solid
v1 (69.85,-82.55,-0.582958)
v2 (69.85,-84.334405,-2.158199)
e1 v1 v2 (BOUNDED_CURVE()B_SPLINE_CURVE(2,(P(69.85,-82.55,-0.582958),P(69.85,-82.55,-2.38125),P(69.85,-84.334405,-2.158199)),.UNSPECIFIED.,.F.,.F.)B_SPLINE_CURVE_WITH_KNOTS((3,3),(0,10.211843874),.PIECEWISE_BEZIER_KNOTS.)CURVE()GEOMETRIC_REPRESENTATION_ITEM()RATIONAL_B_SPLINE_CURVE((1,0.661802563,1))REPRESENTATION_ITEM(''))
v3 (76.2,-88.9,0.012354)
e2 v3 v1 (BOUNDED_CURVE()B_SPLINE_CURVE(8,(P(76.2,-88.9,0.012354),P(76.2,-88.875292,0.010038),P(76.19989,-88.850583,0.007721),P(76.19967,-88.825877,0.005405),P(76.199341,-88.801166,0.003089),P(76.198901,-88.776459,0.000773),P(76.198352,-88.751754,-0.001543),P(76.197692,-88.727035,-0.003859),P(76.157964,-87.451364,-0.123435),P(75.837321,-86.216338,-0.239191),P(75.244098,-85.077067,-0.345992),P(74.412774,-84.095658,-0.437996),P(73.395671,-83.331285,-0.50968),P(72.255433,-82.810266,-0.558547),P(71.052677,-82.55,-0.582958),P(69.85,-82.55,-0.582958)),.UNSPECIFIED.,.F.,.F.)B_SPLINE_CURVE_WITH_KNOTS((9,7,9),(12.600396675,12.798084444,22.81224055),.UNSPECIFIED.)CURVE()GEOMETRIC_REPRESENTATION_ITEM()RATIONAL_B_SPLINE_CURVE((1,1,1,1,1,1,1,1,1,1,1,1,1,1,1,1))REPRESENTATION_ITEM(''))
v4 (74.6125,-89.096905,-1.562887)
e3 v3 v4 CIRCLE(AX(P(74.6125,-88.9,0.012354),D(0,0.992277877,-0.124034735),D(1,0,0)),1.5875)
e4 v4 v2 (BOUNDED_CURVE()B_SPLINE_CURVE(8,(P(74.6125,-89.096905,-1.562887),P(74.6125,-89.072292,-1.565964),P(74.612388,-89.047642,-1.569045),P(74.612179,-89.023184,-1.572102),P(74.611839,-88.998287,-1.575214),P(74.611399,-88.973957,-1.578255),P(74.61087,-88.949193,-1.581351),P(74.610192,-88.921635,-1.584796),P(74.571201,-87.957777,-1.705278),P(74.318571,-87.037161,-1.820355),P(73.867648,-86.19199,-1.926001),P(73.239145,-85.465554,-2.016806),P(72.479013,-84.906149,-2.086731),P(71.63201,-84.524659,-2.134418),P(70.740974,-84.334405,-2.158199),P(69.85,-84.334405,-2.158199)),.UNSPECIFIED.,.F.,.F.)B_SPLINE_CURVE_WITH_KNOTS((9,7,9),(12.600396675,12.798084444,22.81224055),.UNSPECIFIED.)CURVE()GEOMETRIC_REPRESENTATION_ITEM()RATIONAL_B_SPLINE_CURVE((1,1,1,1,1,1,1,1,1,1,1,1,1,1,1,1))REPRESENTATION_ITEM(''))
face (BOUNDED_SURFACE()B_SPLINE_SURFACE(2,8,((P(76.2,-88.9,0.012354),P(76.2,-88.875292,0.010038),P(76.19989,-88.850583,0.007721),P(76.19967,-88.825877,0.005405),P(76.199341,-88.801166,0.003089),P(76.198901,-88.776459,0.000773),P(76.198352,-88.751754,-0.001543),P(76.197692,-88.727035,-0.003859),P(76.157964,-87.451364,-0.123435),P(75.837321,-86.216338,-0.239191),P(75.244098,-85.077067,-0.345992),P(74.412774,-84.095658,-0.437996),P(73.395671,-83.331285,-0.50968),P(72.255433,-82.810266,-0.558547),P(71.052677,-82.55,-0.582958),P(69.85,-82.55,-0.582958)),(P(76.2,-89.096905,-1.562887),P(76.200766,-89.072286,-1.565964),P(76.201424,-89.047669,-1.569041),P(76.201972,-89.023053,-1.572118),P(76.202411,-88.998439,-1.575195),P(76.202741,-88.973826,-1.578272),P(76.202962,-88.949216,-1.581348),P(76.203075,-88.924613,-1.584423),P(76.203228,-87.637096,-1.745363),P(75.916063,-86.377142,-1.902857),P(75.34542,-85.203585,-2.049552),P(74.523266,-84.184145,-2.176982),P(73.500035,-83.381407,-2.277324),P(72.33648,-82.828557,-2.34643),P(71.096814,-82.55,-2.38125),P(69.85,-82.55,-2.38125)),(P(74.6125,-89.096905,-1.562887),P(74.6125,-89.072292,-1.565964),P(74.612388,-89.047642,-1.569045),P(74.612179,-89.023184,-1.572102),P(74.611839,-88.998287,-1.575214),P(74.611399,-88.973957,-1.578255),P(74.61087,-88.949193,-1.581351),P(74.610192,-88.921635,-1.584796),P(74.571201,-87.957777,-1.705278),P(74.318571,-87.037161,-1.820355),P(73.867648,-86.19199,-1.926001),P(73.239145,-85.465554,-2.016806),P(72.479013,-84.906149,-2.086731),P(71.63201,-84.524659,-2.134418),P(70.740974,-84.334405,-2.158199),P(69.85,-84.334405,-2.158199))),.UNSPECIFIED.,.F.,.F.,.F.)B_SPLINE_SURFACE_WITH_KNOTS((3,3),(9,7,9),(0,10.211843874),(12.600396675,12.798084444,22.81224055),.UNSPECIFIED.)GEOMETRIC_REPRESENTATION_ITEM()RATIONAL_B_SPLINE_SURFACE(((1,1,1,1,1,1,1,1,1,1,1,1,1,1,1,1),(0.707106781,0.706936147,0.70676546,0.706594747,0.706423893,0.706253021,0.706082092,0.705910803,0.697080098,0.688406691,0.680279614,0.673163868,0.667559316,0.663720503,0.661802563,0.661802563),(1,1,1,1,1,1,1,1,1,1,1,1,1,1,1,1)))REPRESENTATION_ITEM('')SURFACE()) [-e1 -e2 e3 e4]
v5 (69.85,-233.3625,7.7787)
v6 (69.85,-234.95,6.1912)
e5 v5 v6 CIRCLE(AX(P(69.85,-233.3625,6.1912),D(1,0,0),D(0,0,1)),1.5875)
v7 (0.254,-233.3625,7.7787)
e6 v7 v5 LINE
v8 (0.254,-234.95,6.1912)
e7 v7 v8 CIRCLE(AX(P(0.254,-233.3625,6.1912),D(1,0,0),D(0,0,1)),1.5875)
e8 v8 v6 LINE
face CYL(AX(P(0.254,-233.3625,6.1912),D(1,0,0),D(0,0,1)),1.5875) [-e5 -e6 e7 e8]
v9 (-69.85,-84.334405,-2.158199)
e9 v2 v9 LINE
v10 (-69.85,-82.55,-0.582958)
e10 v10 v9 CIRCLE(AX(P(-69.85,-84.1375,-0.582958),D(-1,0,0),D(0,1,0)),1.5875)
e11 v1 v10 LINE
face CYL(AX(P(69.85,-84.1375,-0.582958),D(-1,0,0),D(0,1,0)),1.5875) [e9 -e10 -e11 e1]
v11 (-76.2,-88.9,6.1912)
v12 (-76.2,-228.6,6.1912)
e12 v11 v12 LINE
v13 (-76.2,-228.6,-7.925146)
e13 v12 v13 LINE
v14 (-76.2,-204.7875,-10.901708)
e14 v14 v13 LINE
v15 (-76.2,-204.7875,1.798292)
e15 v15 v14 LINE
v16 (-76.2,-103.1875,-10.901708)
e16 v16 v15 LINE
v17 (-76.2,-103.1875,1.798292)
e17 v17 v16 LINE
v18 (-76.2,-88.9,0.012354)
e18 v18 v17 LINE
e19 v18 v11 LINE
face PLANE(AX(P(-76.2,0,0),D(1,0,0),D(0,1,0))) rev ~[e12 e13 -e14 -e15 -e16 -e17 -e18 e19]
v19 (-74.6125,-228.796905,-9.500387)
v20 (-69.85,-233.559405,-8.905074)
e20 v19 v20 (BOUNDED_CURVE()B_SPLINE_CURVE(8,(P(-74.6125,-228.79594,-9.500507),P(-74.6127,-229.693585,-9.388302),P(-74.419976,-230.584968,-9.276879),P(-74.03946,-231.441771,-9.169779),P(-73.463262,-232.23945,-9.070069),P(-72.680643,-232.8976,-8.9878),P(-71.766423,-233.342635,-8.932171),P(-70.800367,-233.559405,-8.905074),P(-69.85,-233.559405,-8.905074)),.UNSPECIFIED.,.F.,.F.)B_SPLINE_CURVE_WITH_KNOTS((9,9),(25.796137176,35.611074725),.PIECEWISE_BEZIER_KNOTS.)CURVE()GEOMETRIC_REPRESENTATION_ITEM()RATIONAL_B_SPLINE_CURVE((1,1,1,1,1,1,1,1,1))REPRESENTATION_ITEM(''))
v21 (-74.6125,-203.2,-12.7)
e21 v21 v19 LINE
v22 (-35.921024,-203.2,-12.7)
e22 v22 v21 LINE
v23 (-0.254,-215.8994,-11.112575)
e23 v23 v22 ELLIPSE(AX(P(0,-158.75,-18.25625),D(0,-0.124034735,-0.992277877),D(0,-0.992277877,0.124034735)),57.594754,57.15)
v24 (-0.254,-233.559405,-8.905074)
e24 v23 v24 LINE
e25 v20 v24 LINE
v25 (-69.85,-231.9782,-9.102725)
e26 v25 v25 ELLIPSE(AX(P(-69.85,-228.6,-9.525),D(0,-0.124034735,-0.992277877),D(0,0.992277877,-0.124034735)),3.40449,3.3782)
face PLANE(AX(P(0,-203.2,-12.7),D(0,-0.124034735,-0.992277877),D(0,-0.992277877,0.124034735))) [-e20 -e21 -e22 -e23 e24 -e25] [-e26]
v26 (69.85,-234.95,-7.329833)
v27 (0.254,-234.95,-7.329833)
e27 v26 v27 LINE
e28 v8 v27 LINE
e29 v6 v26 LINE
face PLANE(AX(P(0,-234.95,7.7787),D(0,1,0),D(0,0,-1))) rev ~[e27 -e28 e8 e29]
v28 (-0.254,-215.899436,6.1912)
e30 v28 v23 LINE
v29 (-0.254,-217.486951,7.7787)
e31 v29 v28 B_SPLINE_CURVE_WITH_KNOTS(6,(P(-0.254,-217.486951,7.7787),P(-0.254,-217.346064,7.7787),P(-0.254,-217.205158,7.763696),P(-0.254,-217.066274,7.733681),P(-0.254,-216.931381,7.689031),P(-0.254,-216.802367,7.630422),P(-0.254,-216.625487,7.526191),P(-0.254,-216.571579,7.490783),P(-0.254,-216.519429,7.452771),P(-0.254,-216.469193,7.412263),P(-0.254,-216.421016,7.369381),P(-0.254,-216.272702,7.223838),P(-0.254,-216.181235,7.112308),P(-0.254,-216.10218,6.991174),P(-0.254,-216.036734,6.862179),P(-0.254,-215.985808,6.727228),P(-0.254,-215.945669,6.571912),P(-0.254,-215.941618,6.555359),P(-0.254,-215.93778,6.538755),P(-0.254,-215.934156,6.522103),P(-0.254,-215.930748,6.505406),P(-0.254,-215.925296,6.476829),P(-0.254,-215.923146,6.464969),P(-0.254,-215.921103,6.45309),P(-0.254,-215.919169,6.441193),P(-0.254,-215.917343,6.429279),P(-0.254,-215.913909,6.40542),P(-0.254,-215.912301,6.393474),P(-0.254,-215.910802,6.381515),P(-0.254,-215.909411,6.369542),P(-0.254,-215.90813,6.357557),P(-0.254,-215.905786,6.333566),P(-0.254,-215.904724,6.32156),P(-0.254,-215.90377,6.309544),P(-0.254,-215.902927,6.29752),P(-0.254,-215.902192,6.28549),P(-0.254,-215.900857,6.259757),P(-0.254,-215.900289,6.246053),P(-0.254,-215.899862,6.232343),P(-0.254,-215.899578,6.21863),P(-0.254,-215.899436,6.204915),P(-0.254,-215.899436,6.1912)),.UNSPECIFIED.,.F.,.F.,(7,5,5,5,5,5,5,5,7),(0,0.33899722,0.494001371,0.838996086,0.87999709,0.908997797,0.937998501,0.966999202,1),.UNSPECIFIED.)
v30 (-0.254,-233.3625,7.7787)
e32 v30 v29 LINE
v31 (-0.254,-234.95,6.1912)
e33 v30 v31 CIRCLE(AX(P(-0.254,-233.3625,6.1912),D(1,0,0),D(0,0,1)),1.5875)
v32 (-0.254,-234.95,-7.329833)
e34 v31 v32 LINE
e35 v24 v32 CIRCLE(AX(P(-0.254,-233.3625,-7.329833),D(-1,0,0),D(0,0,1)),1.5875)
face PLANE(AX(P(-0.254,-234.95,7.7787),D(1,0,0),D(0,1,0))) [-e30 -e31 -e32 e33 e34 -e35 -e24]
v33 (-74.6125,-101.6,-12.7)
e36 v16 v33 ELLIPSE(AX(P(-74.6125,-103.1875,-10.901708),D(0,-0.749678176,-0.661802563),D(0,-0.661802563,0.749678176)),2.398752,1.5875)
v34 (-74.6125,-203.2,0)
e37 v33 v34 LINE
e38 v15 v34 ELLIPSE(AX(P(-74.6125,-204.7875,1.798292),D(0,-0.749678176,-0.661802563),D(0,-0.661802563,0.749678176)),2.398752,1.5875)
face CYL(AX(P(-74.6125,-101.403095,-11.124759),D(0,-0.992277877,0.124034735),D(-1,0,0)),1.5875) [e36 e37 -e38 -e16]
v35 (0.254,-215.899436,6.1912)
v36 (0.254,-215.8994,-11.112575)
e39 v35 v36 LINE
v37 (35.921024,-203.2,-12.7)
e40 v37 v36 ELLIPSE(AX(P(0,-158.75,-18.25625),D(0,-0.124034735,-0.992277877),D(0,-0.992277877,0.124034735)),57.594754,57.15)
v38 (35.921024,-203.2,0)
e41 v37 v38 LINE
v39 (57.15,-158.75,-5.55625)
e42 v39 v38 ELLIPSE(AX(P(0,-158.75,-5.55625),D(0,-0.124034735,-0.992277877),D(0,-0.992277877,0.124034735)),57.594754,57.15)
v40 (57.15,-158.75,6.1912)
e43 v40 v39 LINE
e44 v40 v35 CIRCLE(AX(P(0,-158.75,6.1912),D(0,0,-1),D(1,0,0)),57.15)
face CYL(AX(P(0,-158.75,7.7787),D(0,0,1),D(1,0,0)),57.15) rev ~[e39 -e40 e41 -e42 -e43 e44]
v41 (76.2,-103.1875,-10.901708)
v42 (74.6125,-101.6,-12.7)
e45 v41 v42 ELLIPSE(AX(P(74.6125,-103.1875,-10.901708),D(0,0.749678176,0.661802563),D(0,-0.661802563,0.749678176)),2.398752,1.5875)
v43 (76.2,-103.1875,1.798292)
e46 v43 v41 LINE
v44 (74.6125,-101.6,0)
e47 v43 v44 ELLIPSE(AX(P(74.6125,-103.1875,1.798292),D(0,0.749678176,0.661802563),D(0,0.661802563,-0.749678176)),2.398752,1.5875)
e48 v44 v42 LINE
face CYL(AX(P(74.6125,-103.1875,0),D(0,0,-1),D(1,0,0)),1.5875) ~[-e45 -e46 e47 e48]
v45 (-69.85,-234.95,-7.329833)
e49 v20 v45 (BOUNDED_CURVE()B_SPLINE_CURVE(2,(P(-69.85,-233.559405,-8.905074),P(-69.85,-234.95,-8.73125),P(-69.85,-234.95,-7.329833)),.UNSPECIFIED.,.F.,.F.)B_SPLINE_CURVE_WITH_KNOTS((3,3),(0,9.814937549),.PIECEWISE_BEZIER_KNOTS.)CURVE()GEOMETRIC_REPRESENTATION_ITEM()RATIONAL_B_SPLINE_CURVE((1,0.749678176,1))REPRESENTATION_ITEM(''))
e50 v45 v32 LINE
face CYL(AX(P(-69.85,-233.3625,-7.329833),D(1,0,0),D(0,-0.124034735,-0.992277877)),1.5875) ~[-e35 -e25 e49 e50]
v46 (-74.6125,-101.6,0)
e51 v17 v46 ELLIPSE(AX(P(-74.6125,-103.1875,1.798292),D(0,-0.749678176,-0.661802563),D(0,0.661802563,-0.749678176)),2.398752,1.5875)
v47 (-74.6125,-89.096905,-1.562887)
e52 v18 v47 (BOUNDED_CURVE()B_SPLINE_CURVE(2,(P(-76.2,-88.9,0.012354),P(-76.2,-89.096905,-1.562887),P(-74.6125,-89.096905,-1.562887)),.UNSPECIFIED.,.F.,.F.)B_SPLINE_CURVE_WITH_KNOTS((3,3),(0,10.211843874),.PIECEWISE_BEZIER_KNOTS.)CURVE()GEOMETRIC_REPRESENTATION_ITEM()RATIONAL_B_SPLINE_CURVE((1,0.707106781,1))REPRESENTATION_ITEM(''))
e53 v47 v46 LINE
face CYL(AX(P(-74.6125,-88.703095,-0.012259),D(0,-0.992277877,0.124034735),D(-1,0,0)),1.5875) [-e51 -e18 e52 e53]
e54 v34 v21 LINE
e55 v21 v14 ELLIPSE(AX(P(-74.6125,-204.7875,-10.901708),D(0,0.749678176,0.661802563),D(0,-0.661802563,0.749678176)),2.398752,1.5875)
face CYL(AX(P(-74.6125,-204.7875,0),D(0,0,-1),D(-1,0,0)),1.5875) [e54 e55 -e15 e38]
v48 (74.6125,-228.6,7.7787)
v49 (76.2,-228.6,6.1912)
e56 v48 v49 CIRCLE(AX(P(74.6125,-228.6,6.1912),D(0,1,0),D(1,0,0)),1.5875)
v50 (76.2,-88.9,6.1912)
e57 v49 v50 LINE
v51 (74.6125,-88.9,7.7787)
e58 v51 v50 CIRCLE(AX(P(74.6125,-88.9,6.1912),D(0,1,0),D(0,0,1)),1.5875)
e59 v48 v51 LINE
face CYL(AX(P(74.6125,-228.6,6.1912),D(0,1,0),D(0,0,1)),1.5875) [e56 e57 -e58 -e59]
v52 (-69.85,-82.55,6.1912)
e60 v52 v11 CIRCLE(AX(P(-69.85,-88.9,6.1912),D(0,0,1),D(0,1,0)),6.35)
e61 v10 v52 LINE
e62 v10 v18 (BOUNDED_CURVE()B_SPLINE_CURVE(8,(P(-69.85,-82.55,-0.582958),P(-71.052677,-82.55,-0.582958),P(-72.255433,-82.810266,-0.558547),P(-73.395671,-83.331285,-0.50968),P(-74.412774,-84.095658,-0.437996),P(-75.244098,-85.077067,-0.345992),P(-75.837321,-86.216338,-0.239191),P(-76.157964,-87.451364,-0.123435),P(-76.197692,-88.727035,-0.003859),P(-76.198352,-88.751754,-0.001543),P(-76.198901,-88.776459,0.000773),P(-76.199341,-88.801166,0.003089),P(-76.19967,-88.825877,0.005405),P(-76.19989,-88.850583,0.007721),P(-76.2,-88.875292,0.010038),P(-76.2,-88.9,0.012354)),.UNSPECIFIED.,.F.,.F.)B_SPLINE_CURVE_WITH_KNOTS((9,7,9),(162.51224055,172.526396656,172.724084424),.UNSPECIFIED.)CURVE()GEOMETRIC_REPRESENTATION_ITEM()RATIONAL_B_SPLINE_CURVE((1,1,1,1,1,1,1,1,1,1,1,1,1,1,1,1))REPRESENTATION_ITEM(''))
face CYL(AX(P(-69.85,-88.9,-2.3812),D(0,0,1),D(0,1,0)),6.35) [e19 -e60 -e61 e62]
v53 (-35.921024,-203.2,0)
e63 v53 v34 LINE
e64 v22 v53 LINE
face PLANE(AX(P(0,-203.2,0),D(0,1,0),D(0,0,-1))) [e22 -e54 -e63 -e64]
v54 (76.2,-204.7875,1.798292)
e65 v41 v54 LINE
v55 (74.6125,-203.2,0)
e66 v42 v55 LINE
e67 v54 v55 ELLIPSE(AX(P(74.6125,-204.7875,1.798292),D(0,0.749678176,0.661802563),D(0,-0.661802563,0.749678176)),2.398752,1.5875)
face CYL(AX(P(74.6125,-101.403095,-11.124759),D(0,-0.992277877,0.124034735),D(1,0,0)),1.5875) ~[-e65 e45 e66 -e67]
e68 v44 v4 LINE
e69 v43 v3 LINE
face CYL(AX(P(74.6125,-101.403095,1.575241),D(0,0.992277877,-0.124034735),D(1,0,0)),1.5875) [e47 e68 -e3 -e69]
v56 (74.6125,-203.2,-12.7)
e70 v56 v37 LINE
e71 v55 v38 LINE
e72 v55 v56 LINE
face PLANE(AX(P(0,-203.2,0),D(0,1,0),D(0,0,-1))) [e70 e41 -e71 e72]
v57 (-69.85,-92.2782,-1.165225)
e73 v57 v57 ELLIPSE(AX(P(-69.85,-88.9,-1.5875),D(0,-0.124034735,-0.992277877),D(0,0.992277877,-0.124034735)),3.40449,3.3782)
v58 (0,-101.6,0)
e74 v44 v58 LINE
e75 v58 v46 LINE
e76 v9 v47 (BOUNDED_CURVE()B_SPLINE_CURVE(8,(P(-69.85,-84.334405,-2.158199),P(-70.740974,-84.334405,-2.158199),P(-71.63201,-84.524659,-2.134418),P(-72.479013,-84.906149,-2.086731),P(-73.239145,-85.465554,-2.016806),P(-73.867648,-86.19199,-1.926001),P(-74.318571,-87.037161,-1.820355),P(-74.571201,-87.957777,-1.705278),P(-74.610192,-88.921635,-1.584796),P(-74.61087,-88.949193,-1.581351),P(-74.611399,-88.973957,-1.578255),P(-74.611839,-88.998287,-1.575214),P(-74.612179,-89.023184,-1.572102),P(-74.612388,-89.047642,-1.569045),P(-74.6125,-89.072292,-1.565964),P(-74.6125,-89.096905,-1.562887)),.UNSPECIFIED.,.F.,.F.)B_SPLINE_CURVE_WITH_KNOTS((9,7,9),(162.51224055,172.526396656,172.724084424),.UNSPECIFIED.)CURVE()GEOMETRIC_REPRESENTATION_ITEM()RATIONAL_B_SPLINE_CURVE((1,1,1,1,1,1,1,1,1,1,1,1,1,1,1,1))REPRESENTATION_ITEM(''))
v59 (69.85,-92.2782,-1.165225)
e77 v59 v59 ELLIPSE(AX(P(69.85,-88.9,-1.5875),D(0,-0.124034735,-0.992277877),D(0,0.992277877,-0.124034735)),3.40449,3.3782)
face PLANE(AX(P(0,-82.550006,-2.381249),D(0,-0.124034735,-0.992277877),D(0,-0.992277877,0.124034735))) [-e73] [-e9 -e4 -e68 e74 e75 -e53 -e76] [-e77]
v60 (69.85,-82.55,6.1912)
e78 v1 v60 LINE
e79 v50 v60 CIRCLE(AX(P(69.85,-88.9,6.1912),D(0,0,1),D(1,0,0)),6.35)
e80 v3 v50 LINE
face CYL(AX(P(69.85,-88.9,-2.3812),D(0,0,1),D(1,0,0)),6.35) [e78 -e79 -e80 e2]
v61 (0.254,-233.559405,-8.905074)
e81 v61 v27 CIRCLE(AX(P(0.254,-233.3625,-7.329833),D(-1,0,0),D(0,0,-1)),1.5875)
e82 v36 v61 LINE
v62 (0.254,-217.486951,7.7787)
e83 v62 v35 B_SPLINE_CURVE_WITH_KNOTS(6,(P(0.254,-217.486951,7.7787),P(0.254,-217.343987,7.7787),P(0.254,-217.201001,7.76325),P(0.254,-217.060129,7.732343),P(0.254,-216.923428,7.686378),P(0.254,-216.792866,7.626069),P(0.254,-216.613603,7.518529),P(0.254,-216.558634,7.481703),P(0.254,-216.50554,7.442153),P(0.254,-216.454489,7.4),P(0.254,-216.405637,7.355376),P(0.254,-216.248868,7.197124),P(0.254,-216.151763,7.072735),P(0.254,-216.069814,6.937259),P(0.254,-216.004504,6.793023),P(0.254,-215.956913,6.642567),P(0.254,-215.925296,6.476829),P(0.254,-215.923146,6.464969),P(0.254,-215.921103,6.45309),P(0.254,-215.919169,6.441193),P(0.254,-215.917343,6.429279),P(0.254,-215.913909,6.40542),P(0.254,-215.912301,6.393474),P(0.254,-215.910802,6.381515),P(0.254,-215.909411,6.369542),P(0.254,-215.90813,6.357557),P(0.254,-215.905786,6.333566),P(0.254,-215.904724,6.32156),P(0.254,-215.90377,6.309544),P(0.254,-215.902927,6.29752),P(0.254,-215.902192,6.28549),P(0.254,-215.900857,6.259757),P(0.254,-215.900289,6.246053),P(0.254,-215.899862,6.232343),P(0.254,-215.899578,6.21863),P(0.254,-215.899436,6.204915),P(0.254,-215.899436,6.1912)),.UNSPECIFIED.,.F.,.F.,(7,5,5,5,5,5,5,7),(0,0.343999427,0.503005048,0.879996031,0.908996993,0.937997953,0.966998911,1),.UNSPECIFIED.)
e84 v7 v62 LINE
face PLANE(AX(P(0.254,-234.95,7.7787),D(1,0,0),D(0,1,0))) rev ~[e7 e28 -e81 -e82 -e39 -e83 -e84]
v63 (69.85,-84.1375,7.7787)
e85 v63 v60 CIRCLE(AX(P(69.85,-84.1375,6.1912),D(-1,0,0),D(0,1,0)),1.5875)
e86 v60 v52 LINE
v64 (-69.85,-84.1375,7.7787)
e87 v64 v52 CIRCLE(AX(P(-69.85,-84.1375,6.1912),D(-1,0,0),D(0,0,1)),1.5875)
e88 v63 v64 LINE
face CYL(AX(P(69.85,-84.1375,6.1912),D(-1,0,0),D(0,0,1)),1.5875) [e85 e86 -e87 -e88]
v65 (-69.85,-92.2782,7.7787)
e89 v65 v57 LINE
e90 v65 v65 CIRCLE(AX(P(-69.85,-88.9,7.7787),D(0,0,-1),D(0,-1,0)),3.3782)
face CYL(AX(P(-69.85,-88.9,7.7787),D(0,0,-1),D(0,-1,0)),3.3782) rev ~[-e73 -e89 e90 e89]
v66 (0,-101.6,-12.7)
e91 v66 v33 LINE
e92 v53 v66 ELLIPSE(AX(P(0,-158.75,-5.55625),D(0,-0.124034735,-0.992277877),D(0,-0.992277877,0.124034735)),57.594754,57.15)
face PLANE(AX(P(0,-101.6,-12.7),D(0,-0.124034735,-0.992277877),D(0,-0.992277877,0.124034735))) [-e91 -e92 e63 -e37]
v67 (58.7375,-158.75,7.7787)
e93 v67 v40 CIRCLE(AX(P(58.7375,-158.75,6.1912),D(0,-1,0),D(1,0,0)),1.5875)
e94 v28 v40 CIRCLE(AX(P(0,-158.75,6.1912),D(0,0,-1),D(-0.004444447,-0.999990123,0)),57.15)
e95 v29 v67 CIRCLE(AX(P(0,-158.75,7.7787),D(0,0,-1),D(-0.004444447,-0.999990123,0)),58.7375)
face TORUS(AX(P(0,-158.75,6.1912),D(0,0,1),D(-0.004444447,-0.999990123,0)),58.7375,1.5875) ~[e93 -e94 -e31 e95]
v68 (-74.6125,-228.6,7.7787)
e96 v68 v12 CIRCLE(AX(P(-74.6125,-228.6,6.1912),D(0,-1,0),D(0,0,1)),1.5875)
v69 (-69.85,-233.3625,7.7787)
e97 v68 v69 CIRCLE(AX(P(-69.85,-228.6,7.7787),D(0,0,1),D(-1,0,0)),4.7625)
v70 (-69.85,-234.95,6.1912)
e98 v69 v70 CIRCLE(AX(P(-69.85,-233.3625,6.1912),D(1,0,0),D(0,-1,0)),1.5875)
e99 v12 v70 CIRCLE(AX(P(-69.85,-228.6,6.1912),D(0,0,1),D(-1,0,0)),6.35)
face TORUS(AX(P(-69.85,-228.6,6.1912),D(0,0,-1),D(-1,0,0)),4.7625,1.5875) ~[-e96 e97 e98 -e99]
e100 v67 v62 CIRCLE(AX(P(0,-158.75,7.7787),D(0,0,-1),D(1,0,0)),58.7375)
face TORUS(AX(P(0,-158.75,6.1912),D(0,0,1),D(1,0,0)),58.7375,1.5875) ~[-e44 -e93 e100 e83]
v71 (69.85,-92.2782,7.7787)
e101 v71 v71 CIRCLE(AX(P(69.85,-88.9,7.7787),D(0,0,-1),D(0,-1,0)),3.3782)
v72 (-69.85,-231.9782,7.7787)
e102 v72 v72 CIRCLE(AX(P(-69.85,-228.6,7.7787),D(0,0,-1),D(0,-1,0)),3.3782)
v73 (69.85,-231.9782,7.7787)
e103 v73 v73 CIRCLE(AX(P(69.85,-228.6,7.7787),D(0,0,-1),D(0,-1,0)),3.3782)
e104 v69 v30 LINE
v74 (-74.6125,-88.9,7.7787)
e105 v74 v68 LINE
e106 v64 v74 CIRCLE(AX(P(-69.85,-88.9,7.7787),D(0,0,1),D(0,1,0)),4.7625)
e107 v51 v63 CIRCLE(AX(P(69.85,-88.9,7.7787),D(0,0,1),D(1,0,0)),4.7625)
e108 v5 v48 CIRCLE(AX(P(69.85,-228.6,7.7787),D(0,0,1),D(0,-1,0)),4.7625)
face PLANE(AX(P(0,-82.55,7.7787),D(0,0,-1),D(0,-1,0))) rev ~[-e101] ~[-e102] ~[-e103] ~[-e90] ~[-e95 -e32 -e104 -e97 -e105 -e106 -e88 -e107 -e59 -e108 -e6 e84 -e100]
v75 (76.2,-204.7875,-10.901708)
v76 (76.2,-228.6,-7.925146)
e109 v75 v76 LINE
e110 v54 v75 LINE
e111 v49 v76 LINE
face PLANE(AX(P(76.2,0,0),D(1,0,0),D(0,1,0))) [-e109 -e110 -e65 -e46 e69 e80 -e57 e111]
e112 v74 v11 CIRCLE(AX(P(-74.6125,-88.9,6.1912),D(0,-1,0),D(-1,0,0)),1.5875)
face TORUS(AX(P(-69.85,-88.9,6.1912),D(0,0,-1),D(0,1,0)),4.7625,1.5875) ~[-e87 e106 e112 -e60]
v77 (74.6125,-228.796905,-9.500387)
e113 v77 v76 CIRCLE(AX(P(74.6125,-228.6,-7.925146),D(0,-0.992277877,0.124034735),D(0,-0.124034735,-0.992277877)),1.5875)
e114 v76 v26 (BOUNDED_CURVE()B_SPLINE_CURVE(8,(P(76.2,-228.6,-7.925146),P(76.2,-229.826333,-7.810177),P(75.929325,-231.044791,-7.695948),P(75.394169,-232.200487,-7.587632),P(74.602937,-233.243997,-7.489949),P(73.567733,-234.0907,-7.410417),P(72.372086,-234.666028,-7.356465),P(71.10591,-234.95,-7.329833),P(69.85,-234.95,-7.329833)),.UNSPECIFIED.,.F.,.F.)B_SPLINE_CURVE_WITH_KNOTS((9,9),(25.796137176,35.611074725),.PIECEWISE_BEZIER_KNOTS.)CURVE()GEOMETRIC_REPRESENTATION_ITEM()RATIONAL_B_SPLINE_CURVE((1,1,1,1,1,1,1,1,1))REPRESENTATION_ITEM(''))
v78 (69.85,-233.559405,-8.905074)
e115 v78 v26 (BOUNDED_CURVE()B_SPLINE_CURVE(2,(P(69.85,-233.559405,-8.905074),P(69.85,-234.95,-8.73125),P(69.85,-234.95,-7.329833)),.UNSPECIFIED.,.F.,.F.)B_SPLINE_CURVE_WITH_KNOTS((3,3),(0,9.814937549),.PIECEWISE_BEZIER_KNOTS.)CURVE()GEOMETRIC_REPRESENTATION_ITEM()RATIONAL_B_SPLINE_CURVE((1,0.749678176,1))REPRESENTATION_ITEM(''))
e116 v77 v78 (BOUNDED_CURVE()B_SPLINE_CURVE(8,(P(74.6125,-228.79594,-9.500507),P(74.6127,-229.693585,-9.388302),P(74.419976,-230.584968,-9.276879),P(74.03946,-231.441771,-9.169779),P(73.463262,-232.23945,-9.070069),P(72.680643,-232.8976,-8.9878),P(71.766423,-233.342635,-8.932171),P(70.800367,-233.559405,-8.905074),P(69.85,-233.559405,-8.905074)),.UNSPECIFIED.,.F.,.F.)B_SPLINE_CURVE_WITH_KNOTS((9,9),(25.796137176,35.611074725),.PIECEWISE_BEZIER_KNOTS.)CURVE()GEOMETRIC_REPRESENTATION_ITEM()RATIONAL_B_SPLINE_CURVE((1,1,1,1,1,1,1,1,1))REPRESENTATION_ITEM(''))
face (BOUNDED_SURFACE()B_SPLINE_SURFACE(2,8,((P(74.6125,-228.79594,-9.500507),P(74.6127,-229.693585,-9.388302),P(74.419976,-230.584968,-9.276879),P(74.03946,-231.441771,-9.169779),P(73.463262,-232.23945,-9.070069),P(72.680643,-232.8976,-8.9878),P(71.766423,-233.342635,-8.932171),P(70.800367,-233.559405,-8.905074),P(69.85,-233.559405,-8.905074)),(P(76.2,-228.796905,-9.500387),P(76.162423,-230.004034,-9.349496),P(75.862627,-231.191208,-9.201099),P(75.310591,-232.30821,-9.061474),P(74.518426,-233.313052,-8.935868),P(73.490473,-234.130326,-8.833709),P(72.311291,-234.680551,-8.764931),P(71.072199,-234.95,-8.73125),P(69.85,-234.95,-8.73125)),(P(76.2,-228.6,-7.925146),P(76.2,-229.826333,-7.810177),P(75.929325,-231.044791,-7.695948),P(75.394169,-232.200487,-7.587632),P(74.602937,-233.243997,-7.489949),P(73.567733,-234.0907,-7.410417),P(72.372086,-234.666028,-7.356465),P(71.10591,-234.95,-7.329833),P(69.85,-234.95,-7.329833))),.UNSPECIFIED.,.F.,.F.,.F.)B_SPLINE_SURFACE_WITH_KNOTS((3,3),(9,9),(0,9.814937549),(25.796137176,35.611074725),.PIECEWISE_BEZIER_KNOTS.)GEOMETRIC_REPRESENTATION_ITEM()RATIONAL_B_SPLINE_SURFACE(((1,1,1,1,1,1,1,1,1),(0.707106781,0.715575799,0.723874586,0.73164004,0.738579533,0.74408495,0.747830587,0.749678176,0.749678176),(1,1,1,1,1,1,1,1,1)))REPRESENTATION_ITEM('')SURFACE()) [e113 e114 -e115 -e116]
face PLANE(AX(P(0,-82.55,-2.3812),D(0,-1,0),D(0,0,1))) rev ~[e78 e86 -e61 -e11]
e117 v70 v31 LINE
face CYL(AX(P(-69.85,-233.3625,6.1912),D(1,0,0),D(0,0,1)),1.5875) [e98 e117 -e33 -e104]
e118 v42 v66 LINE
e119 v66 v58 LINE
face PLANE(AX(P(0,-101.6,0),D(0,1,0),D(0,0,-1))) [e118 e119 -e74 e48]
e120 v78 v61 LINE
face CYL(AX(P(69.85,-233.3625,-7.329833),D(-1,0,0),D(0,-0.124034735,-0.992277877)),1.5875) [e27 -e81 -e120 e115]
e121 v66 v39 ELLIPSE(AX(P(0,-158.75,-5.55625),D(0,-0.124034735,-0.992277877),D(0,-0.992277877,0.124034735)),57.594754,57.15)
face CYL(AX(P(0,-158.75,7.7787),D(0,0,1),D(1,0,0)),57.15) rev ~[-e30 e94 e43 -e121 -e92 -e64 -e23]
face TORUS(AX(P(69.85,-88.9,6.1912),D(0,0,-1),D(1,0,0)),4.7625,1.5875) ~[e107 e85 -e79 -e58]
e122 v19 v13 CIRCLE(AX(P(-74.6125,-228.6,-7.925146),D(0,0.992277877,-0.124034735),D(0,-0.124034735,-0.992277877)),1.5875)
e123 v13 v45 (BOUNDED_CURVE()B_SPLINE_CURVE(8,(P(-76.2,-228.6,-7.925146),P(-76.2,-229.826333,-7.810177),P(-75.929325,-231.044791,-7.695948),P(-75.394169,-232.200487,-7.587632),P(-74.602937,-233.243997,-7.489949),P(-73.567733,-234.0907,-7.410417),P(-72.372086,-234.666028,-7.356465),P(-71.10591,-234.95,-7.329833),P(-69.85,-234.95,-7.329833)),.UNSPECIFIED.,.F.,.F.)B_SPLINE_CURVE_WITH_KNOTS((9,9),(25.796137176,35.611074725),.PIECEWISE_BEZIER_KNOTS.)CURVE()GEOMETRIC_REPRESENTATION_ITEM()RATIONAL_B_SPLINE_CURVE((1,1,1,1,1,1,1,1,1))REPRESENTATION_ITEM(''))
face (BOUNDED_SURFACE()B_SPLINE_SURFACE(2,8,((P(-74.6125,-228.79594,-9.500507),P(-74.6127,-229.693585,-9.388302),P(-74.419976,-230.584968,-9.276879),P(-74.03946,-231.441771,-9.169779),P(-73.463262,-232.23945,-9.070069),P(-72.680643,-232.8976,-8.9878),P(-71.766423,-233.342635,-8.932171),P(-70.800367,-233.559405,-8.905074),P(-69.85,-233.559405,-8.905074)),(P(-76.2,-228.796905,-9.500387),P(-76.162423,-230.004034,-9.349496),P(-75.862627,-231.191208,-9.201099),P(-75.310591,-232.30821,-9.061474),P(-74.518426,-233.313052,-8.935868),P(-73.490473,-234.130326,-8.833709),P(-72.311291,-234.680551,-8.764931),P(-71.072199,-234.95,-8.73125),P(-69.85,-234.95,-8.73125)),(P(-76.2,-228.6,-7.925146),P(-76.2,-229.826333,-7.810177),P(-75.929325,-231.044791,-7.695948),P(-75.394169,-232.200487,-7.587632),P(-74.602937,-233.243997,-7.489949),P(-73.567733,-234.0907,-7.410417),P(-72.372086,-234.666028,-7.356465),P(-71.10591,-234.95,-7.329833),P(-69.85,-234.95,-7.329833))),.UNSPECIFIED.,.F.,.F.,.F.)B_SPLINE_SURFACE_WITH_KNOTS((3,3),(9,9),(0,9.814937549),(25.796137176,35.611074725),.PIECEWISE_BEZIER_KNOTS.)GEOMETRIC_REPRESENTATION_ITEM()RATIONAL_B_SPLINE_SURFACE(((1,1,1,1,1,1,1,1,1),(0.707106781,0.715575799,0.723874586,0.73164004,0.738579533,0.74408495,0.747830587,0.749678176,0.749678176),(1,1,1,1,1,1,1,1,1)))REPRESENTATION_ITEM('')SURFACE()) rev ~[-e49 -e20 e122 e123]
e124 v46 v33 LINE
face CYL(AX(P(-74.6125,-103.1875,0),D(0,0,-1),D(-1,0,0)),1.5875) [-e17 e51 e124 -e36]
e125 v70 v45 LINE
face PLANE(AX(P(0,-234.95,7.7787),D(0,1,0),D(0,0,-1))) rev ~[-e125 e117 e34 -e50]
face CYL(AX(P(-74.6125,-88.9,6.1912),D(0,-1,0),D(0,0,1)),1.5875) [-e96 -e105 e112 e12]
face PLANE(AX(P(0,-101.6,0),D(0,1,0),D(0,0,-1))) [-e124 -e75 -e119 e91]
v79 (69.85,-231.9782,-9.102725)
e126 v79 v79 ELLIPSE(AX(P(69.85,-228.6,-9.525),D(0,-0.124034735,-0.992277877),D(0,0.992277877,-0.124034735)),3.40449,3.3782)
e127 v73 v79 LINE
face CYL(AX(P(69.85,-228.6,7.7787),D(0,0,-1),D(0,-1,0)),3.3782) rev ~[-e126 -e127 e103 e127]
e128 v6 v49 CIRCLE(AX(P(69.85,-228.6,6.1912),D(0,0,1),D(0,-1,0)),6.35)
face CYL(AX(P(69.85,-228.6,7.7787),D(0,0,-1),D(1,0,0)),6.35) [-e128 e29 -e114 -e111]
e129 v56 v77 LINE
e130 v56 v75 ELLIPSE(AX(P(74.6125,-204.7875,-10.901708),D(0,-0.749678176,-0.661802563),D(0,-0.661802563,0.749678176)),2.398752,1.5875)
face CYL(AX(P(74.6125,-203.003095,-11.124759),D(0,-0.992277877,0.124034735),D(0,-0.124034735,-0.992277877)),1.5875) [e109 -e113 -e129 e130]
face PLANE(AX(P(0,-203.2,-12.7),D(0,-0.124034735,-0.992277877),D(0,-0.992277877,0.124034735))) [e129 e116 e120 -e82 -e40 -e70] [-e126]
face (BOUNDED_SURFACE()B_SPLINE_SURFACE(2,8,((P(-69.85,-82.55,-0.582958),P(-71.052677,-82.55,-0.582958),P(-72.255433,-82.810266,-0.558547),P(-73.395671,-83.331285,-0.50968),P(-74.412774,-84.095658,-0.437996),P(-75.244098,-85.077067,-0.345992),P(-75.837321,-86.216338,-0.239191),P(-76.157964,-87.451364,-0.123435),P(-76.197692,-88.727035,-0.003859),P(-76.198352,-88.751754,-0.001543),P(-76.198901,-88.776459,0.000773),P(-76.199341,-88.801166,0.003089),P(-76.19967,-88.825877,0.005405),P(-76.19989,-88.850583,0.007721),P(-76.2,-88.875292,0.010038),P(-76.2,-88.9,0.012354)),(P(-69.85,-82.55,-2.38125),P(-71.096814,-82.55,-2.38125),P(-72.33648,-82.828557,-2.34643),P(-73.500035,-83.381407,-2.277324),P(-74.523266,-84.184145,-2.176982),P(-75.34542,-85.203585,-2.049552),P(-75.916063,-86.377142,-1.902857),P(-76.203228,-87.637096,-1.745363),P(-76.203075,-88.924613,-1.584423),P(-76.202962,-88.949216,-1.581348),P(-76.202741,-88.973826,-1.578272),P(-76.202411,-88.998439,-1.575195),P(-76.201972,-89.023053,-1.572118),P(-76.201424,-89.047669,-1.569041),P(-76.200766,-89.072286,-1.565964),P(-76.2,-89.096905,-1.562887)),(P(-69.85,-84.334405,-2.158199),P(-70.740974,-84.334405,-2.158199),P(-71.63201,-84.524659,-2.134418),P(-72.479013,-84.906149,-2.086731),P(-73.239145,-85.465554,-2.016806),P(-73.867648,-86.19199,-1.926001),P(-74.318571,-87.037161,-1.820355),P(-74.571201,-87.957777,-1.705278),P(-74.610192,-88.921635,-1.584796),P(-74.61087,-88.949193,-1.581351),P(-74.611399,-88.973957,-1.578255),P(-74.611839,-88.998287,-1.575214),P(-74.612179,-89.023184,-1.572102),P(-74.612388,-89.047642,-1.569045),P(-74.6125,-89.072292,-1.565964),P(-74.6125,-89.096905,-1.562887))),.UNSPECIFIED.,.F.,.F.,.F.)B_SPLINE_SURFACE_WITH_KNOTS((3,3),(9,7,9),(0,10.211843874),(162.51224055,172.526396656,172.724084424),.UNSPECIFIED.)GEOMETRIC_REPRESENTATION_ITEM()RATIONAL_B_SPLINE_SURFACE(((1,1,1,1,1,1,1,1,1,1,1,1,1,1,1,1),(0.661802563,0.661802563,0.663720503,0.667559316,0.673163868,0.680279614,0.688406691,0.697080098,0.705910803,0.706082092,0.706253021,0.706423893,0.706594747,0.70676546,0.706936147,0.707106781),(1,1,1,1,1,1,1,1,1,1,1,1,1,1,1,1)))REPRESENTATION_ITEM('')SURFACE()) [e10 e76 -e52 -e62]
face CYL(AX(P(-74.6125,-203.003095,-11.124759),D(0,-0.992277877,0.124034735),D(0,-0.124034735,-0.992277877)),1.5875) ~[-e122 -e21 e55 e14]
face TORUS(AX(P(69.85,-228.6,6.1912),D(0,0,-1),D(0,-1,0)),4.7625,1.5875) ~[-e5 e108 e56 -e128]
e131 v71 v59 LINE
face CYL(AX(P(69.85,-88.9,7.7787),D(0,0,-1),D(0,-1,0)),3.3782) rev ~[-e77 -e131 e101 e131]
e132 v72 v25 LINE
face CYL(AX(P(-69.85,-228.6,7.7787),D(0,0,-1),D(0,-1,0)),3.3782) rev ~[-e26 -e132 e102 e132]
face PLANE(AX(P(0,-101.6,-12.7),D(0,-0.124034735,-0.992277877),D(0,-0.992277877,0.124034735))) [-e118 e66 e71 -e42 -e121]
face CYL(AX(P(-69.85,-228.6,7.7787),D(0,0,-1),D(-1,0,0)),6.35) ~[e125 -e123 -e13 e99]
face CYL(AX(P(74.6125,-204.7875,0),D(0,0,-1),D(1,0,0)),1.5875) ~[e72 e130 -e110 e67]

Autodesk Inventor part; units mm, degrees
ref_plane "YZ Plane" through (0, 0, 0) normal (1, 0, 0) x (0, 1, 0)
ref_plane "XZ Plane" through (0, 0, 0) normal (0, 1, 0) x (-1, 0, 0)
ref_plane "XY Plane" through (0, 0, 0) normal (0, 0, 1) x (1, 0, 0)
sketch "Sketch4" plane through (0, 0, 0) normal (1, 0, 0) x (0, 1, 0)
  line L0 (0, 0) -> (0, -12.7)
  line L1 (0, -12.7) -> (-101.6, 0)
  line L2 (-101.6, 0) -> (-101.6, -12.7)
  line L3 (-101.6, -12.7) -> (-203.2, 0)
  line L4 (-203.2, 0) -> (-203.2, -12.7)
  line L5 (-203.2, -12.7) -> (-304.8, 0)
  line L6 (-82.55, -2.3812) -> (-82.55, 7.7787)
  line L7 (-82.55, 7.7787) -> (-234.95, 7.7787)
  line L8 (-234.95, 7.7787) -> (-234.95, -8.7313)
  dimension "d28" = 12.7
  dimension "d29" = 101.6
  dimension "d30" = 101.6
  dimension "d31" = 12.7
  dimension "d32" = 101.6
  dimension "d33" = 152.4
  dimension "d34" = 10.16
  dimension "d35" = 19.05
extrude "Extrusion3" add sketch "Sketch4" along normal mid plane 152.4
sketch "Sketch5" plane through (-76.2, -234.95, 7.7787) normal (0, 0, 1) x (1, 0, 0)
  line L0 (0, 0) -> (0, 152.4) construction
  line L1 (0, 152.4) -> (152.3647, 0) construction
  line L2 (152.4, 152.4) -> (152.4, 0) construction
  line L3 (0, 0) -> (152.4, 0) construction
  line L4 (152.4, 152.4) -> (0, 0) construction
  line L5 (6.35, 6.35) -> (146.05, 6.35) construction
  line L6 (146.05, 6.35) -> (146.05, 146.05) construction
  line L7 (146.05, 146.05) -> (6.35, 146.05) construction
  line L8 (6.35, 146.05) -> (6.35, 6.35) construction
  line L9 (6.35, 6.35) -> (146.05, 146.05) construction
  line L10 (146.05, 6.35) -> (6.35, 146.05) construction
  line L11 (0, 152.4) -> (152.4, 152.4) construction
  circle A0 centre (76.2, 76.2) radius 57.15
  line L12 (76.2, 19.05) -> (76.2, 0) construction
  line L13 (0, 0) -> (152.4, 0) construction
  line L14 (76.454, 0) -> (76.454, 19.0506)
  line L15 (75.946, 0) -> (75.946, 19.0506)
  line L16 (75.946, 0) -> (76.454, 0)
  point P0 (76.2, 234.95)
  point P1 (75.946, 19.0506)
  dimension "d38" = 6.35
  dimension "d39" = 6.35
  dimension "d40" = 114.3
  dimension "d51" = 0.254
extrude "Extrusion4" cut sketch "Sketch5" against normal through all contours A0
hole "Hole2" at (-69.85, -88.9, 7.7787) at (69.85, -88.9, 7.7787) at (69.85, -228.6, 7.7787) at (-69.85, -228.6, 7.7787) direction (0, 0, -1) diameter 6.7564 end through all clearance for "Hex Machine Screw" size "1/4" standard "Ansi Unified Screw Threads"
fillet "Fillet2" radius 6.35 4 edges at (76.2, -82.55, 2.6987) (-76.2, -82.55, 2.6987) (76.2, -234.95, -0.4763) (-76.2, -234.95, -0.4763)
extrude "Extrusion5" cut sketch "Sketch5" against normal through all contours A0 L14 L16 L15
fillet "Fillet3" radius 1.5875 2 edges at (40.5009, -199.0712, 7.7787) (-40.3212, -118.2491, 7.7787)
fillet "Fillet4" radius 1.5875 9 edges at (74.3401, -84.4099, 7.7787) (76.2, -158.75, 7.7787) (74.3401, -233.0901, 7.7787) (35.052, -234.95, 7.7787) (-74.3401, -84.4099, 7.7787) (-76.2, -158.75, 7.7787) (-74.3401, -233.0901, 7.7787) (-35.052, -234.95, 7.7787) (0, -82.55, 7.7787)
fillet "Fillet5" radius 1.5875 17 edges at (76.2, -152.4, -6.35) (-76.2, -152.4, -6.35) (-74.3401, -233.0901, -8.9637) (-35.052, -234.95, -8.7313) (-76.2, -215.9, -11.1125) (74.3401, -233.0901, -8.9637) (35.052, -234.95, -8.7313) (76.2, -215.9, -11.1125) (76.2, -203.2, -6.35) (-76.2, -203.2, -6.35) (-76.2, -101.6, -6.35) (76.2, -101.6, -6.35) (74.3401, -84.4099, -2.1488) (76.2, -95.25, -0.7937) (-74.3401, -84.4099, -2.1488) (-76.2, -95.25, -0.7937) (0, -82.55, -2.3812)
equation "\"d36\" = outsideWidthOfVent"
equation "\"d40\" = ventHole"
equation "\"d50\" = ventRadius"
equation "\"sidingHeight\" = 101.6"
equation "\"sidingDepth\" = 12.7"
equation "\"radiusOfCurvature\" = 609.6"
equation "\"outsideWidthOfVent\" = 152.4"
equation "\"wallThicknessOfVent\" = 19.05"
equation "\"holeOffset\" = 6.35"
equation "\"ventHole\" = 114.3"
equation "\"ventRadius\" = 6.35"
properties part number "ventForDryer02"
